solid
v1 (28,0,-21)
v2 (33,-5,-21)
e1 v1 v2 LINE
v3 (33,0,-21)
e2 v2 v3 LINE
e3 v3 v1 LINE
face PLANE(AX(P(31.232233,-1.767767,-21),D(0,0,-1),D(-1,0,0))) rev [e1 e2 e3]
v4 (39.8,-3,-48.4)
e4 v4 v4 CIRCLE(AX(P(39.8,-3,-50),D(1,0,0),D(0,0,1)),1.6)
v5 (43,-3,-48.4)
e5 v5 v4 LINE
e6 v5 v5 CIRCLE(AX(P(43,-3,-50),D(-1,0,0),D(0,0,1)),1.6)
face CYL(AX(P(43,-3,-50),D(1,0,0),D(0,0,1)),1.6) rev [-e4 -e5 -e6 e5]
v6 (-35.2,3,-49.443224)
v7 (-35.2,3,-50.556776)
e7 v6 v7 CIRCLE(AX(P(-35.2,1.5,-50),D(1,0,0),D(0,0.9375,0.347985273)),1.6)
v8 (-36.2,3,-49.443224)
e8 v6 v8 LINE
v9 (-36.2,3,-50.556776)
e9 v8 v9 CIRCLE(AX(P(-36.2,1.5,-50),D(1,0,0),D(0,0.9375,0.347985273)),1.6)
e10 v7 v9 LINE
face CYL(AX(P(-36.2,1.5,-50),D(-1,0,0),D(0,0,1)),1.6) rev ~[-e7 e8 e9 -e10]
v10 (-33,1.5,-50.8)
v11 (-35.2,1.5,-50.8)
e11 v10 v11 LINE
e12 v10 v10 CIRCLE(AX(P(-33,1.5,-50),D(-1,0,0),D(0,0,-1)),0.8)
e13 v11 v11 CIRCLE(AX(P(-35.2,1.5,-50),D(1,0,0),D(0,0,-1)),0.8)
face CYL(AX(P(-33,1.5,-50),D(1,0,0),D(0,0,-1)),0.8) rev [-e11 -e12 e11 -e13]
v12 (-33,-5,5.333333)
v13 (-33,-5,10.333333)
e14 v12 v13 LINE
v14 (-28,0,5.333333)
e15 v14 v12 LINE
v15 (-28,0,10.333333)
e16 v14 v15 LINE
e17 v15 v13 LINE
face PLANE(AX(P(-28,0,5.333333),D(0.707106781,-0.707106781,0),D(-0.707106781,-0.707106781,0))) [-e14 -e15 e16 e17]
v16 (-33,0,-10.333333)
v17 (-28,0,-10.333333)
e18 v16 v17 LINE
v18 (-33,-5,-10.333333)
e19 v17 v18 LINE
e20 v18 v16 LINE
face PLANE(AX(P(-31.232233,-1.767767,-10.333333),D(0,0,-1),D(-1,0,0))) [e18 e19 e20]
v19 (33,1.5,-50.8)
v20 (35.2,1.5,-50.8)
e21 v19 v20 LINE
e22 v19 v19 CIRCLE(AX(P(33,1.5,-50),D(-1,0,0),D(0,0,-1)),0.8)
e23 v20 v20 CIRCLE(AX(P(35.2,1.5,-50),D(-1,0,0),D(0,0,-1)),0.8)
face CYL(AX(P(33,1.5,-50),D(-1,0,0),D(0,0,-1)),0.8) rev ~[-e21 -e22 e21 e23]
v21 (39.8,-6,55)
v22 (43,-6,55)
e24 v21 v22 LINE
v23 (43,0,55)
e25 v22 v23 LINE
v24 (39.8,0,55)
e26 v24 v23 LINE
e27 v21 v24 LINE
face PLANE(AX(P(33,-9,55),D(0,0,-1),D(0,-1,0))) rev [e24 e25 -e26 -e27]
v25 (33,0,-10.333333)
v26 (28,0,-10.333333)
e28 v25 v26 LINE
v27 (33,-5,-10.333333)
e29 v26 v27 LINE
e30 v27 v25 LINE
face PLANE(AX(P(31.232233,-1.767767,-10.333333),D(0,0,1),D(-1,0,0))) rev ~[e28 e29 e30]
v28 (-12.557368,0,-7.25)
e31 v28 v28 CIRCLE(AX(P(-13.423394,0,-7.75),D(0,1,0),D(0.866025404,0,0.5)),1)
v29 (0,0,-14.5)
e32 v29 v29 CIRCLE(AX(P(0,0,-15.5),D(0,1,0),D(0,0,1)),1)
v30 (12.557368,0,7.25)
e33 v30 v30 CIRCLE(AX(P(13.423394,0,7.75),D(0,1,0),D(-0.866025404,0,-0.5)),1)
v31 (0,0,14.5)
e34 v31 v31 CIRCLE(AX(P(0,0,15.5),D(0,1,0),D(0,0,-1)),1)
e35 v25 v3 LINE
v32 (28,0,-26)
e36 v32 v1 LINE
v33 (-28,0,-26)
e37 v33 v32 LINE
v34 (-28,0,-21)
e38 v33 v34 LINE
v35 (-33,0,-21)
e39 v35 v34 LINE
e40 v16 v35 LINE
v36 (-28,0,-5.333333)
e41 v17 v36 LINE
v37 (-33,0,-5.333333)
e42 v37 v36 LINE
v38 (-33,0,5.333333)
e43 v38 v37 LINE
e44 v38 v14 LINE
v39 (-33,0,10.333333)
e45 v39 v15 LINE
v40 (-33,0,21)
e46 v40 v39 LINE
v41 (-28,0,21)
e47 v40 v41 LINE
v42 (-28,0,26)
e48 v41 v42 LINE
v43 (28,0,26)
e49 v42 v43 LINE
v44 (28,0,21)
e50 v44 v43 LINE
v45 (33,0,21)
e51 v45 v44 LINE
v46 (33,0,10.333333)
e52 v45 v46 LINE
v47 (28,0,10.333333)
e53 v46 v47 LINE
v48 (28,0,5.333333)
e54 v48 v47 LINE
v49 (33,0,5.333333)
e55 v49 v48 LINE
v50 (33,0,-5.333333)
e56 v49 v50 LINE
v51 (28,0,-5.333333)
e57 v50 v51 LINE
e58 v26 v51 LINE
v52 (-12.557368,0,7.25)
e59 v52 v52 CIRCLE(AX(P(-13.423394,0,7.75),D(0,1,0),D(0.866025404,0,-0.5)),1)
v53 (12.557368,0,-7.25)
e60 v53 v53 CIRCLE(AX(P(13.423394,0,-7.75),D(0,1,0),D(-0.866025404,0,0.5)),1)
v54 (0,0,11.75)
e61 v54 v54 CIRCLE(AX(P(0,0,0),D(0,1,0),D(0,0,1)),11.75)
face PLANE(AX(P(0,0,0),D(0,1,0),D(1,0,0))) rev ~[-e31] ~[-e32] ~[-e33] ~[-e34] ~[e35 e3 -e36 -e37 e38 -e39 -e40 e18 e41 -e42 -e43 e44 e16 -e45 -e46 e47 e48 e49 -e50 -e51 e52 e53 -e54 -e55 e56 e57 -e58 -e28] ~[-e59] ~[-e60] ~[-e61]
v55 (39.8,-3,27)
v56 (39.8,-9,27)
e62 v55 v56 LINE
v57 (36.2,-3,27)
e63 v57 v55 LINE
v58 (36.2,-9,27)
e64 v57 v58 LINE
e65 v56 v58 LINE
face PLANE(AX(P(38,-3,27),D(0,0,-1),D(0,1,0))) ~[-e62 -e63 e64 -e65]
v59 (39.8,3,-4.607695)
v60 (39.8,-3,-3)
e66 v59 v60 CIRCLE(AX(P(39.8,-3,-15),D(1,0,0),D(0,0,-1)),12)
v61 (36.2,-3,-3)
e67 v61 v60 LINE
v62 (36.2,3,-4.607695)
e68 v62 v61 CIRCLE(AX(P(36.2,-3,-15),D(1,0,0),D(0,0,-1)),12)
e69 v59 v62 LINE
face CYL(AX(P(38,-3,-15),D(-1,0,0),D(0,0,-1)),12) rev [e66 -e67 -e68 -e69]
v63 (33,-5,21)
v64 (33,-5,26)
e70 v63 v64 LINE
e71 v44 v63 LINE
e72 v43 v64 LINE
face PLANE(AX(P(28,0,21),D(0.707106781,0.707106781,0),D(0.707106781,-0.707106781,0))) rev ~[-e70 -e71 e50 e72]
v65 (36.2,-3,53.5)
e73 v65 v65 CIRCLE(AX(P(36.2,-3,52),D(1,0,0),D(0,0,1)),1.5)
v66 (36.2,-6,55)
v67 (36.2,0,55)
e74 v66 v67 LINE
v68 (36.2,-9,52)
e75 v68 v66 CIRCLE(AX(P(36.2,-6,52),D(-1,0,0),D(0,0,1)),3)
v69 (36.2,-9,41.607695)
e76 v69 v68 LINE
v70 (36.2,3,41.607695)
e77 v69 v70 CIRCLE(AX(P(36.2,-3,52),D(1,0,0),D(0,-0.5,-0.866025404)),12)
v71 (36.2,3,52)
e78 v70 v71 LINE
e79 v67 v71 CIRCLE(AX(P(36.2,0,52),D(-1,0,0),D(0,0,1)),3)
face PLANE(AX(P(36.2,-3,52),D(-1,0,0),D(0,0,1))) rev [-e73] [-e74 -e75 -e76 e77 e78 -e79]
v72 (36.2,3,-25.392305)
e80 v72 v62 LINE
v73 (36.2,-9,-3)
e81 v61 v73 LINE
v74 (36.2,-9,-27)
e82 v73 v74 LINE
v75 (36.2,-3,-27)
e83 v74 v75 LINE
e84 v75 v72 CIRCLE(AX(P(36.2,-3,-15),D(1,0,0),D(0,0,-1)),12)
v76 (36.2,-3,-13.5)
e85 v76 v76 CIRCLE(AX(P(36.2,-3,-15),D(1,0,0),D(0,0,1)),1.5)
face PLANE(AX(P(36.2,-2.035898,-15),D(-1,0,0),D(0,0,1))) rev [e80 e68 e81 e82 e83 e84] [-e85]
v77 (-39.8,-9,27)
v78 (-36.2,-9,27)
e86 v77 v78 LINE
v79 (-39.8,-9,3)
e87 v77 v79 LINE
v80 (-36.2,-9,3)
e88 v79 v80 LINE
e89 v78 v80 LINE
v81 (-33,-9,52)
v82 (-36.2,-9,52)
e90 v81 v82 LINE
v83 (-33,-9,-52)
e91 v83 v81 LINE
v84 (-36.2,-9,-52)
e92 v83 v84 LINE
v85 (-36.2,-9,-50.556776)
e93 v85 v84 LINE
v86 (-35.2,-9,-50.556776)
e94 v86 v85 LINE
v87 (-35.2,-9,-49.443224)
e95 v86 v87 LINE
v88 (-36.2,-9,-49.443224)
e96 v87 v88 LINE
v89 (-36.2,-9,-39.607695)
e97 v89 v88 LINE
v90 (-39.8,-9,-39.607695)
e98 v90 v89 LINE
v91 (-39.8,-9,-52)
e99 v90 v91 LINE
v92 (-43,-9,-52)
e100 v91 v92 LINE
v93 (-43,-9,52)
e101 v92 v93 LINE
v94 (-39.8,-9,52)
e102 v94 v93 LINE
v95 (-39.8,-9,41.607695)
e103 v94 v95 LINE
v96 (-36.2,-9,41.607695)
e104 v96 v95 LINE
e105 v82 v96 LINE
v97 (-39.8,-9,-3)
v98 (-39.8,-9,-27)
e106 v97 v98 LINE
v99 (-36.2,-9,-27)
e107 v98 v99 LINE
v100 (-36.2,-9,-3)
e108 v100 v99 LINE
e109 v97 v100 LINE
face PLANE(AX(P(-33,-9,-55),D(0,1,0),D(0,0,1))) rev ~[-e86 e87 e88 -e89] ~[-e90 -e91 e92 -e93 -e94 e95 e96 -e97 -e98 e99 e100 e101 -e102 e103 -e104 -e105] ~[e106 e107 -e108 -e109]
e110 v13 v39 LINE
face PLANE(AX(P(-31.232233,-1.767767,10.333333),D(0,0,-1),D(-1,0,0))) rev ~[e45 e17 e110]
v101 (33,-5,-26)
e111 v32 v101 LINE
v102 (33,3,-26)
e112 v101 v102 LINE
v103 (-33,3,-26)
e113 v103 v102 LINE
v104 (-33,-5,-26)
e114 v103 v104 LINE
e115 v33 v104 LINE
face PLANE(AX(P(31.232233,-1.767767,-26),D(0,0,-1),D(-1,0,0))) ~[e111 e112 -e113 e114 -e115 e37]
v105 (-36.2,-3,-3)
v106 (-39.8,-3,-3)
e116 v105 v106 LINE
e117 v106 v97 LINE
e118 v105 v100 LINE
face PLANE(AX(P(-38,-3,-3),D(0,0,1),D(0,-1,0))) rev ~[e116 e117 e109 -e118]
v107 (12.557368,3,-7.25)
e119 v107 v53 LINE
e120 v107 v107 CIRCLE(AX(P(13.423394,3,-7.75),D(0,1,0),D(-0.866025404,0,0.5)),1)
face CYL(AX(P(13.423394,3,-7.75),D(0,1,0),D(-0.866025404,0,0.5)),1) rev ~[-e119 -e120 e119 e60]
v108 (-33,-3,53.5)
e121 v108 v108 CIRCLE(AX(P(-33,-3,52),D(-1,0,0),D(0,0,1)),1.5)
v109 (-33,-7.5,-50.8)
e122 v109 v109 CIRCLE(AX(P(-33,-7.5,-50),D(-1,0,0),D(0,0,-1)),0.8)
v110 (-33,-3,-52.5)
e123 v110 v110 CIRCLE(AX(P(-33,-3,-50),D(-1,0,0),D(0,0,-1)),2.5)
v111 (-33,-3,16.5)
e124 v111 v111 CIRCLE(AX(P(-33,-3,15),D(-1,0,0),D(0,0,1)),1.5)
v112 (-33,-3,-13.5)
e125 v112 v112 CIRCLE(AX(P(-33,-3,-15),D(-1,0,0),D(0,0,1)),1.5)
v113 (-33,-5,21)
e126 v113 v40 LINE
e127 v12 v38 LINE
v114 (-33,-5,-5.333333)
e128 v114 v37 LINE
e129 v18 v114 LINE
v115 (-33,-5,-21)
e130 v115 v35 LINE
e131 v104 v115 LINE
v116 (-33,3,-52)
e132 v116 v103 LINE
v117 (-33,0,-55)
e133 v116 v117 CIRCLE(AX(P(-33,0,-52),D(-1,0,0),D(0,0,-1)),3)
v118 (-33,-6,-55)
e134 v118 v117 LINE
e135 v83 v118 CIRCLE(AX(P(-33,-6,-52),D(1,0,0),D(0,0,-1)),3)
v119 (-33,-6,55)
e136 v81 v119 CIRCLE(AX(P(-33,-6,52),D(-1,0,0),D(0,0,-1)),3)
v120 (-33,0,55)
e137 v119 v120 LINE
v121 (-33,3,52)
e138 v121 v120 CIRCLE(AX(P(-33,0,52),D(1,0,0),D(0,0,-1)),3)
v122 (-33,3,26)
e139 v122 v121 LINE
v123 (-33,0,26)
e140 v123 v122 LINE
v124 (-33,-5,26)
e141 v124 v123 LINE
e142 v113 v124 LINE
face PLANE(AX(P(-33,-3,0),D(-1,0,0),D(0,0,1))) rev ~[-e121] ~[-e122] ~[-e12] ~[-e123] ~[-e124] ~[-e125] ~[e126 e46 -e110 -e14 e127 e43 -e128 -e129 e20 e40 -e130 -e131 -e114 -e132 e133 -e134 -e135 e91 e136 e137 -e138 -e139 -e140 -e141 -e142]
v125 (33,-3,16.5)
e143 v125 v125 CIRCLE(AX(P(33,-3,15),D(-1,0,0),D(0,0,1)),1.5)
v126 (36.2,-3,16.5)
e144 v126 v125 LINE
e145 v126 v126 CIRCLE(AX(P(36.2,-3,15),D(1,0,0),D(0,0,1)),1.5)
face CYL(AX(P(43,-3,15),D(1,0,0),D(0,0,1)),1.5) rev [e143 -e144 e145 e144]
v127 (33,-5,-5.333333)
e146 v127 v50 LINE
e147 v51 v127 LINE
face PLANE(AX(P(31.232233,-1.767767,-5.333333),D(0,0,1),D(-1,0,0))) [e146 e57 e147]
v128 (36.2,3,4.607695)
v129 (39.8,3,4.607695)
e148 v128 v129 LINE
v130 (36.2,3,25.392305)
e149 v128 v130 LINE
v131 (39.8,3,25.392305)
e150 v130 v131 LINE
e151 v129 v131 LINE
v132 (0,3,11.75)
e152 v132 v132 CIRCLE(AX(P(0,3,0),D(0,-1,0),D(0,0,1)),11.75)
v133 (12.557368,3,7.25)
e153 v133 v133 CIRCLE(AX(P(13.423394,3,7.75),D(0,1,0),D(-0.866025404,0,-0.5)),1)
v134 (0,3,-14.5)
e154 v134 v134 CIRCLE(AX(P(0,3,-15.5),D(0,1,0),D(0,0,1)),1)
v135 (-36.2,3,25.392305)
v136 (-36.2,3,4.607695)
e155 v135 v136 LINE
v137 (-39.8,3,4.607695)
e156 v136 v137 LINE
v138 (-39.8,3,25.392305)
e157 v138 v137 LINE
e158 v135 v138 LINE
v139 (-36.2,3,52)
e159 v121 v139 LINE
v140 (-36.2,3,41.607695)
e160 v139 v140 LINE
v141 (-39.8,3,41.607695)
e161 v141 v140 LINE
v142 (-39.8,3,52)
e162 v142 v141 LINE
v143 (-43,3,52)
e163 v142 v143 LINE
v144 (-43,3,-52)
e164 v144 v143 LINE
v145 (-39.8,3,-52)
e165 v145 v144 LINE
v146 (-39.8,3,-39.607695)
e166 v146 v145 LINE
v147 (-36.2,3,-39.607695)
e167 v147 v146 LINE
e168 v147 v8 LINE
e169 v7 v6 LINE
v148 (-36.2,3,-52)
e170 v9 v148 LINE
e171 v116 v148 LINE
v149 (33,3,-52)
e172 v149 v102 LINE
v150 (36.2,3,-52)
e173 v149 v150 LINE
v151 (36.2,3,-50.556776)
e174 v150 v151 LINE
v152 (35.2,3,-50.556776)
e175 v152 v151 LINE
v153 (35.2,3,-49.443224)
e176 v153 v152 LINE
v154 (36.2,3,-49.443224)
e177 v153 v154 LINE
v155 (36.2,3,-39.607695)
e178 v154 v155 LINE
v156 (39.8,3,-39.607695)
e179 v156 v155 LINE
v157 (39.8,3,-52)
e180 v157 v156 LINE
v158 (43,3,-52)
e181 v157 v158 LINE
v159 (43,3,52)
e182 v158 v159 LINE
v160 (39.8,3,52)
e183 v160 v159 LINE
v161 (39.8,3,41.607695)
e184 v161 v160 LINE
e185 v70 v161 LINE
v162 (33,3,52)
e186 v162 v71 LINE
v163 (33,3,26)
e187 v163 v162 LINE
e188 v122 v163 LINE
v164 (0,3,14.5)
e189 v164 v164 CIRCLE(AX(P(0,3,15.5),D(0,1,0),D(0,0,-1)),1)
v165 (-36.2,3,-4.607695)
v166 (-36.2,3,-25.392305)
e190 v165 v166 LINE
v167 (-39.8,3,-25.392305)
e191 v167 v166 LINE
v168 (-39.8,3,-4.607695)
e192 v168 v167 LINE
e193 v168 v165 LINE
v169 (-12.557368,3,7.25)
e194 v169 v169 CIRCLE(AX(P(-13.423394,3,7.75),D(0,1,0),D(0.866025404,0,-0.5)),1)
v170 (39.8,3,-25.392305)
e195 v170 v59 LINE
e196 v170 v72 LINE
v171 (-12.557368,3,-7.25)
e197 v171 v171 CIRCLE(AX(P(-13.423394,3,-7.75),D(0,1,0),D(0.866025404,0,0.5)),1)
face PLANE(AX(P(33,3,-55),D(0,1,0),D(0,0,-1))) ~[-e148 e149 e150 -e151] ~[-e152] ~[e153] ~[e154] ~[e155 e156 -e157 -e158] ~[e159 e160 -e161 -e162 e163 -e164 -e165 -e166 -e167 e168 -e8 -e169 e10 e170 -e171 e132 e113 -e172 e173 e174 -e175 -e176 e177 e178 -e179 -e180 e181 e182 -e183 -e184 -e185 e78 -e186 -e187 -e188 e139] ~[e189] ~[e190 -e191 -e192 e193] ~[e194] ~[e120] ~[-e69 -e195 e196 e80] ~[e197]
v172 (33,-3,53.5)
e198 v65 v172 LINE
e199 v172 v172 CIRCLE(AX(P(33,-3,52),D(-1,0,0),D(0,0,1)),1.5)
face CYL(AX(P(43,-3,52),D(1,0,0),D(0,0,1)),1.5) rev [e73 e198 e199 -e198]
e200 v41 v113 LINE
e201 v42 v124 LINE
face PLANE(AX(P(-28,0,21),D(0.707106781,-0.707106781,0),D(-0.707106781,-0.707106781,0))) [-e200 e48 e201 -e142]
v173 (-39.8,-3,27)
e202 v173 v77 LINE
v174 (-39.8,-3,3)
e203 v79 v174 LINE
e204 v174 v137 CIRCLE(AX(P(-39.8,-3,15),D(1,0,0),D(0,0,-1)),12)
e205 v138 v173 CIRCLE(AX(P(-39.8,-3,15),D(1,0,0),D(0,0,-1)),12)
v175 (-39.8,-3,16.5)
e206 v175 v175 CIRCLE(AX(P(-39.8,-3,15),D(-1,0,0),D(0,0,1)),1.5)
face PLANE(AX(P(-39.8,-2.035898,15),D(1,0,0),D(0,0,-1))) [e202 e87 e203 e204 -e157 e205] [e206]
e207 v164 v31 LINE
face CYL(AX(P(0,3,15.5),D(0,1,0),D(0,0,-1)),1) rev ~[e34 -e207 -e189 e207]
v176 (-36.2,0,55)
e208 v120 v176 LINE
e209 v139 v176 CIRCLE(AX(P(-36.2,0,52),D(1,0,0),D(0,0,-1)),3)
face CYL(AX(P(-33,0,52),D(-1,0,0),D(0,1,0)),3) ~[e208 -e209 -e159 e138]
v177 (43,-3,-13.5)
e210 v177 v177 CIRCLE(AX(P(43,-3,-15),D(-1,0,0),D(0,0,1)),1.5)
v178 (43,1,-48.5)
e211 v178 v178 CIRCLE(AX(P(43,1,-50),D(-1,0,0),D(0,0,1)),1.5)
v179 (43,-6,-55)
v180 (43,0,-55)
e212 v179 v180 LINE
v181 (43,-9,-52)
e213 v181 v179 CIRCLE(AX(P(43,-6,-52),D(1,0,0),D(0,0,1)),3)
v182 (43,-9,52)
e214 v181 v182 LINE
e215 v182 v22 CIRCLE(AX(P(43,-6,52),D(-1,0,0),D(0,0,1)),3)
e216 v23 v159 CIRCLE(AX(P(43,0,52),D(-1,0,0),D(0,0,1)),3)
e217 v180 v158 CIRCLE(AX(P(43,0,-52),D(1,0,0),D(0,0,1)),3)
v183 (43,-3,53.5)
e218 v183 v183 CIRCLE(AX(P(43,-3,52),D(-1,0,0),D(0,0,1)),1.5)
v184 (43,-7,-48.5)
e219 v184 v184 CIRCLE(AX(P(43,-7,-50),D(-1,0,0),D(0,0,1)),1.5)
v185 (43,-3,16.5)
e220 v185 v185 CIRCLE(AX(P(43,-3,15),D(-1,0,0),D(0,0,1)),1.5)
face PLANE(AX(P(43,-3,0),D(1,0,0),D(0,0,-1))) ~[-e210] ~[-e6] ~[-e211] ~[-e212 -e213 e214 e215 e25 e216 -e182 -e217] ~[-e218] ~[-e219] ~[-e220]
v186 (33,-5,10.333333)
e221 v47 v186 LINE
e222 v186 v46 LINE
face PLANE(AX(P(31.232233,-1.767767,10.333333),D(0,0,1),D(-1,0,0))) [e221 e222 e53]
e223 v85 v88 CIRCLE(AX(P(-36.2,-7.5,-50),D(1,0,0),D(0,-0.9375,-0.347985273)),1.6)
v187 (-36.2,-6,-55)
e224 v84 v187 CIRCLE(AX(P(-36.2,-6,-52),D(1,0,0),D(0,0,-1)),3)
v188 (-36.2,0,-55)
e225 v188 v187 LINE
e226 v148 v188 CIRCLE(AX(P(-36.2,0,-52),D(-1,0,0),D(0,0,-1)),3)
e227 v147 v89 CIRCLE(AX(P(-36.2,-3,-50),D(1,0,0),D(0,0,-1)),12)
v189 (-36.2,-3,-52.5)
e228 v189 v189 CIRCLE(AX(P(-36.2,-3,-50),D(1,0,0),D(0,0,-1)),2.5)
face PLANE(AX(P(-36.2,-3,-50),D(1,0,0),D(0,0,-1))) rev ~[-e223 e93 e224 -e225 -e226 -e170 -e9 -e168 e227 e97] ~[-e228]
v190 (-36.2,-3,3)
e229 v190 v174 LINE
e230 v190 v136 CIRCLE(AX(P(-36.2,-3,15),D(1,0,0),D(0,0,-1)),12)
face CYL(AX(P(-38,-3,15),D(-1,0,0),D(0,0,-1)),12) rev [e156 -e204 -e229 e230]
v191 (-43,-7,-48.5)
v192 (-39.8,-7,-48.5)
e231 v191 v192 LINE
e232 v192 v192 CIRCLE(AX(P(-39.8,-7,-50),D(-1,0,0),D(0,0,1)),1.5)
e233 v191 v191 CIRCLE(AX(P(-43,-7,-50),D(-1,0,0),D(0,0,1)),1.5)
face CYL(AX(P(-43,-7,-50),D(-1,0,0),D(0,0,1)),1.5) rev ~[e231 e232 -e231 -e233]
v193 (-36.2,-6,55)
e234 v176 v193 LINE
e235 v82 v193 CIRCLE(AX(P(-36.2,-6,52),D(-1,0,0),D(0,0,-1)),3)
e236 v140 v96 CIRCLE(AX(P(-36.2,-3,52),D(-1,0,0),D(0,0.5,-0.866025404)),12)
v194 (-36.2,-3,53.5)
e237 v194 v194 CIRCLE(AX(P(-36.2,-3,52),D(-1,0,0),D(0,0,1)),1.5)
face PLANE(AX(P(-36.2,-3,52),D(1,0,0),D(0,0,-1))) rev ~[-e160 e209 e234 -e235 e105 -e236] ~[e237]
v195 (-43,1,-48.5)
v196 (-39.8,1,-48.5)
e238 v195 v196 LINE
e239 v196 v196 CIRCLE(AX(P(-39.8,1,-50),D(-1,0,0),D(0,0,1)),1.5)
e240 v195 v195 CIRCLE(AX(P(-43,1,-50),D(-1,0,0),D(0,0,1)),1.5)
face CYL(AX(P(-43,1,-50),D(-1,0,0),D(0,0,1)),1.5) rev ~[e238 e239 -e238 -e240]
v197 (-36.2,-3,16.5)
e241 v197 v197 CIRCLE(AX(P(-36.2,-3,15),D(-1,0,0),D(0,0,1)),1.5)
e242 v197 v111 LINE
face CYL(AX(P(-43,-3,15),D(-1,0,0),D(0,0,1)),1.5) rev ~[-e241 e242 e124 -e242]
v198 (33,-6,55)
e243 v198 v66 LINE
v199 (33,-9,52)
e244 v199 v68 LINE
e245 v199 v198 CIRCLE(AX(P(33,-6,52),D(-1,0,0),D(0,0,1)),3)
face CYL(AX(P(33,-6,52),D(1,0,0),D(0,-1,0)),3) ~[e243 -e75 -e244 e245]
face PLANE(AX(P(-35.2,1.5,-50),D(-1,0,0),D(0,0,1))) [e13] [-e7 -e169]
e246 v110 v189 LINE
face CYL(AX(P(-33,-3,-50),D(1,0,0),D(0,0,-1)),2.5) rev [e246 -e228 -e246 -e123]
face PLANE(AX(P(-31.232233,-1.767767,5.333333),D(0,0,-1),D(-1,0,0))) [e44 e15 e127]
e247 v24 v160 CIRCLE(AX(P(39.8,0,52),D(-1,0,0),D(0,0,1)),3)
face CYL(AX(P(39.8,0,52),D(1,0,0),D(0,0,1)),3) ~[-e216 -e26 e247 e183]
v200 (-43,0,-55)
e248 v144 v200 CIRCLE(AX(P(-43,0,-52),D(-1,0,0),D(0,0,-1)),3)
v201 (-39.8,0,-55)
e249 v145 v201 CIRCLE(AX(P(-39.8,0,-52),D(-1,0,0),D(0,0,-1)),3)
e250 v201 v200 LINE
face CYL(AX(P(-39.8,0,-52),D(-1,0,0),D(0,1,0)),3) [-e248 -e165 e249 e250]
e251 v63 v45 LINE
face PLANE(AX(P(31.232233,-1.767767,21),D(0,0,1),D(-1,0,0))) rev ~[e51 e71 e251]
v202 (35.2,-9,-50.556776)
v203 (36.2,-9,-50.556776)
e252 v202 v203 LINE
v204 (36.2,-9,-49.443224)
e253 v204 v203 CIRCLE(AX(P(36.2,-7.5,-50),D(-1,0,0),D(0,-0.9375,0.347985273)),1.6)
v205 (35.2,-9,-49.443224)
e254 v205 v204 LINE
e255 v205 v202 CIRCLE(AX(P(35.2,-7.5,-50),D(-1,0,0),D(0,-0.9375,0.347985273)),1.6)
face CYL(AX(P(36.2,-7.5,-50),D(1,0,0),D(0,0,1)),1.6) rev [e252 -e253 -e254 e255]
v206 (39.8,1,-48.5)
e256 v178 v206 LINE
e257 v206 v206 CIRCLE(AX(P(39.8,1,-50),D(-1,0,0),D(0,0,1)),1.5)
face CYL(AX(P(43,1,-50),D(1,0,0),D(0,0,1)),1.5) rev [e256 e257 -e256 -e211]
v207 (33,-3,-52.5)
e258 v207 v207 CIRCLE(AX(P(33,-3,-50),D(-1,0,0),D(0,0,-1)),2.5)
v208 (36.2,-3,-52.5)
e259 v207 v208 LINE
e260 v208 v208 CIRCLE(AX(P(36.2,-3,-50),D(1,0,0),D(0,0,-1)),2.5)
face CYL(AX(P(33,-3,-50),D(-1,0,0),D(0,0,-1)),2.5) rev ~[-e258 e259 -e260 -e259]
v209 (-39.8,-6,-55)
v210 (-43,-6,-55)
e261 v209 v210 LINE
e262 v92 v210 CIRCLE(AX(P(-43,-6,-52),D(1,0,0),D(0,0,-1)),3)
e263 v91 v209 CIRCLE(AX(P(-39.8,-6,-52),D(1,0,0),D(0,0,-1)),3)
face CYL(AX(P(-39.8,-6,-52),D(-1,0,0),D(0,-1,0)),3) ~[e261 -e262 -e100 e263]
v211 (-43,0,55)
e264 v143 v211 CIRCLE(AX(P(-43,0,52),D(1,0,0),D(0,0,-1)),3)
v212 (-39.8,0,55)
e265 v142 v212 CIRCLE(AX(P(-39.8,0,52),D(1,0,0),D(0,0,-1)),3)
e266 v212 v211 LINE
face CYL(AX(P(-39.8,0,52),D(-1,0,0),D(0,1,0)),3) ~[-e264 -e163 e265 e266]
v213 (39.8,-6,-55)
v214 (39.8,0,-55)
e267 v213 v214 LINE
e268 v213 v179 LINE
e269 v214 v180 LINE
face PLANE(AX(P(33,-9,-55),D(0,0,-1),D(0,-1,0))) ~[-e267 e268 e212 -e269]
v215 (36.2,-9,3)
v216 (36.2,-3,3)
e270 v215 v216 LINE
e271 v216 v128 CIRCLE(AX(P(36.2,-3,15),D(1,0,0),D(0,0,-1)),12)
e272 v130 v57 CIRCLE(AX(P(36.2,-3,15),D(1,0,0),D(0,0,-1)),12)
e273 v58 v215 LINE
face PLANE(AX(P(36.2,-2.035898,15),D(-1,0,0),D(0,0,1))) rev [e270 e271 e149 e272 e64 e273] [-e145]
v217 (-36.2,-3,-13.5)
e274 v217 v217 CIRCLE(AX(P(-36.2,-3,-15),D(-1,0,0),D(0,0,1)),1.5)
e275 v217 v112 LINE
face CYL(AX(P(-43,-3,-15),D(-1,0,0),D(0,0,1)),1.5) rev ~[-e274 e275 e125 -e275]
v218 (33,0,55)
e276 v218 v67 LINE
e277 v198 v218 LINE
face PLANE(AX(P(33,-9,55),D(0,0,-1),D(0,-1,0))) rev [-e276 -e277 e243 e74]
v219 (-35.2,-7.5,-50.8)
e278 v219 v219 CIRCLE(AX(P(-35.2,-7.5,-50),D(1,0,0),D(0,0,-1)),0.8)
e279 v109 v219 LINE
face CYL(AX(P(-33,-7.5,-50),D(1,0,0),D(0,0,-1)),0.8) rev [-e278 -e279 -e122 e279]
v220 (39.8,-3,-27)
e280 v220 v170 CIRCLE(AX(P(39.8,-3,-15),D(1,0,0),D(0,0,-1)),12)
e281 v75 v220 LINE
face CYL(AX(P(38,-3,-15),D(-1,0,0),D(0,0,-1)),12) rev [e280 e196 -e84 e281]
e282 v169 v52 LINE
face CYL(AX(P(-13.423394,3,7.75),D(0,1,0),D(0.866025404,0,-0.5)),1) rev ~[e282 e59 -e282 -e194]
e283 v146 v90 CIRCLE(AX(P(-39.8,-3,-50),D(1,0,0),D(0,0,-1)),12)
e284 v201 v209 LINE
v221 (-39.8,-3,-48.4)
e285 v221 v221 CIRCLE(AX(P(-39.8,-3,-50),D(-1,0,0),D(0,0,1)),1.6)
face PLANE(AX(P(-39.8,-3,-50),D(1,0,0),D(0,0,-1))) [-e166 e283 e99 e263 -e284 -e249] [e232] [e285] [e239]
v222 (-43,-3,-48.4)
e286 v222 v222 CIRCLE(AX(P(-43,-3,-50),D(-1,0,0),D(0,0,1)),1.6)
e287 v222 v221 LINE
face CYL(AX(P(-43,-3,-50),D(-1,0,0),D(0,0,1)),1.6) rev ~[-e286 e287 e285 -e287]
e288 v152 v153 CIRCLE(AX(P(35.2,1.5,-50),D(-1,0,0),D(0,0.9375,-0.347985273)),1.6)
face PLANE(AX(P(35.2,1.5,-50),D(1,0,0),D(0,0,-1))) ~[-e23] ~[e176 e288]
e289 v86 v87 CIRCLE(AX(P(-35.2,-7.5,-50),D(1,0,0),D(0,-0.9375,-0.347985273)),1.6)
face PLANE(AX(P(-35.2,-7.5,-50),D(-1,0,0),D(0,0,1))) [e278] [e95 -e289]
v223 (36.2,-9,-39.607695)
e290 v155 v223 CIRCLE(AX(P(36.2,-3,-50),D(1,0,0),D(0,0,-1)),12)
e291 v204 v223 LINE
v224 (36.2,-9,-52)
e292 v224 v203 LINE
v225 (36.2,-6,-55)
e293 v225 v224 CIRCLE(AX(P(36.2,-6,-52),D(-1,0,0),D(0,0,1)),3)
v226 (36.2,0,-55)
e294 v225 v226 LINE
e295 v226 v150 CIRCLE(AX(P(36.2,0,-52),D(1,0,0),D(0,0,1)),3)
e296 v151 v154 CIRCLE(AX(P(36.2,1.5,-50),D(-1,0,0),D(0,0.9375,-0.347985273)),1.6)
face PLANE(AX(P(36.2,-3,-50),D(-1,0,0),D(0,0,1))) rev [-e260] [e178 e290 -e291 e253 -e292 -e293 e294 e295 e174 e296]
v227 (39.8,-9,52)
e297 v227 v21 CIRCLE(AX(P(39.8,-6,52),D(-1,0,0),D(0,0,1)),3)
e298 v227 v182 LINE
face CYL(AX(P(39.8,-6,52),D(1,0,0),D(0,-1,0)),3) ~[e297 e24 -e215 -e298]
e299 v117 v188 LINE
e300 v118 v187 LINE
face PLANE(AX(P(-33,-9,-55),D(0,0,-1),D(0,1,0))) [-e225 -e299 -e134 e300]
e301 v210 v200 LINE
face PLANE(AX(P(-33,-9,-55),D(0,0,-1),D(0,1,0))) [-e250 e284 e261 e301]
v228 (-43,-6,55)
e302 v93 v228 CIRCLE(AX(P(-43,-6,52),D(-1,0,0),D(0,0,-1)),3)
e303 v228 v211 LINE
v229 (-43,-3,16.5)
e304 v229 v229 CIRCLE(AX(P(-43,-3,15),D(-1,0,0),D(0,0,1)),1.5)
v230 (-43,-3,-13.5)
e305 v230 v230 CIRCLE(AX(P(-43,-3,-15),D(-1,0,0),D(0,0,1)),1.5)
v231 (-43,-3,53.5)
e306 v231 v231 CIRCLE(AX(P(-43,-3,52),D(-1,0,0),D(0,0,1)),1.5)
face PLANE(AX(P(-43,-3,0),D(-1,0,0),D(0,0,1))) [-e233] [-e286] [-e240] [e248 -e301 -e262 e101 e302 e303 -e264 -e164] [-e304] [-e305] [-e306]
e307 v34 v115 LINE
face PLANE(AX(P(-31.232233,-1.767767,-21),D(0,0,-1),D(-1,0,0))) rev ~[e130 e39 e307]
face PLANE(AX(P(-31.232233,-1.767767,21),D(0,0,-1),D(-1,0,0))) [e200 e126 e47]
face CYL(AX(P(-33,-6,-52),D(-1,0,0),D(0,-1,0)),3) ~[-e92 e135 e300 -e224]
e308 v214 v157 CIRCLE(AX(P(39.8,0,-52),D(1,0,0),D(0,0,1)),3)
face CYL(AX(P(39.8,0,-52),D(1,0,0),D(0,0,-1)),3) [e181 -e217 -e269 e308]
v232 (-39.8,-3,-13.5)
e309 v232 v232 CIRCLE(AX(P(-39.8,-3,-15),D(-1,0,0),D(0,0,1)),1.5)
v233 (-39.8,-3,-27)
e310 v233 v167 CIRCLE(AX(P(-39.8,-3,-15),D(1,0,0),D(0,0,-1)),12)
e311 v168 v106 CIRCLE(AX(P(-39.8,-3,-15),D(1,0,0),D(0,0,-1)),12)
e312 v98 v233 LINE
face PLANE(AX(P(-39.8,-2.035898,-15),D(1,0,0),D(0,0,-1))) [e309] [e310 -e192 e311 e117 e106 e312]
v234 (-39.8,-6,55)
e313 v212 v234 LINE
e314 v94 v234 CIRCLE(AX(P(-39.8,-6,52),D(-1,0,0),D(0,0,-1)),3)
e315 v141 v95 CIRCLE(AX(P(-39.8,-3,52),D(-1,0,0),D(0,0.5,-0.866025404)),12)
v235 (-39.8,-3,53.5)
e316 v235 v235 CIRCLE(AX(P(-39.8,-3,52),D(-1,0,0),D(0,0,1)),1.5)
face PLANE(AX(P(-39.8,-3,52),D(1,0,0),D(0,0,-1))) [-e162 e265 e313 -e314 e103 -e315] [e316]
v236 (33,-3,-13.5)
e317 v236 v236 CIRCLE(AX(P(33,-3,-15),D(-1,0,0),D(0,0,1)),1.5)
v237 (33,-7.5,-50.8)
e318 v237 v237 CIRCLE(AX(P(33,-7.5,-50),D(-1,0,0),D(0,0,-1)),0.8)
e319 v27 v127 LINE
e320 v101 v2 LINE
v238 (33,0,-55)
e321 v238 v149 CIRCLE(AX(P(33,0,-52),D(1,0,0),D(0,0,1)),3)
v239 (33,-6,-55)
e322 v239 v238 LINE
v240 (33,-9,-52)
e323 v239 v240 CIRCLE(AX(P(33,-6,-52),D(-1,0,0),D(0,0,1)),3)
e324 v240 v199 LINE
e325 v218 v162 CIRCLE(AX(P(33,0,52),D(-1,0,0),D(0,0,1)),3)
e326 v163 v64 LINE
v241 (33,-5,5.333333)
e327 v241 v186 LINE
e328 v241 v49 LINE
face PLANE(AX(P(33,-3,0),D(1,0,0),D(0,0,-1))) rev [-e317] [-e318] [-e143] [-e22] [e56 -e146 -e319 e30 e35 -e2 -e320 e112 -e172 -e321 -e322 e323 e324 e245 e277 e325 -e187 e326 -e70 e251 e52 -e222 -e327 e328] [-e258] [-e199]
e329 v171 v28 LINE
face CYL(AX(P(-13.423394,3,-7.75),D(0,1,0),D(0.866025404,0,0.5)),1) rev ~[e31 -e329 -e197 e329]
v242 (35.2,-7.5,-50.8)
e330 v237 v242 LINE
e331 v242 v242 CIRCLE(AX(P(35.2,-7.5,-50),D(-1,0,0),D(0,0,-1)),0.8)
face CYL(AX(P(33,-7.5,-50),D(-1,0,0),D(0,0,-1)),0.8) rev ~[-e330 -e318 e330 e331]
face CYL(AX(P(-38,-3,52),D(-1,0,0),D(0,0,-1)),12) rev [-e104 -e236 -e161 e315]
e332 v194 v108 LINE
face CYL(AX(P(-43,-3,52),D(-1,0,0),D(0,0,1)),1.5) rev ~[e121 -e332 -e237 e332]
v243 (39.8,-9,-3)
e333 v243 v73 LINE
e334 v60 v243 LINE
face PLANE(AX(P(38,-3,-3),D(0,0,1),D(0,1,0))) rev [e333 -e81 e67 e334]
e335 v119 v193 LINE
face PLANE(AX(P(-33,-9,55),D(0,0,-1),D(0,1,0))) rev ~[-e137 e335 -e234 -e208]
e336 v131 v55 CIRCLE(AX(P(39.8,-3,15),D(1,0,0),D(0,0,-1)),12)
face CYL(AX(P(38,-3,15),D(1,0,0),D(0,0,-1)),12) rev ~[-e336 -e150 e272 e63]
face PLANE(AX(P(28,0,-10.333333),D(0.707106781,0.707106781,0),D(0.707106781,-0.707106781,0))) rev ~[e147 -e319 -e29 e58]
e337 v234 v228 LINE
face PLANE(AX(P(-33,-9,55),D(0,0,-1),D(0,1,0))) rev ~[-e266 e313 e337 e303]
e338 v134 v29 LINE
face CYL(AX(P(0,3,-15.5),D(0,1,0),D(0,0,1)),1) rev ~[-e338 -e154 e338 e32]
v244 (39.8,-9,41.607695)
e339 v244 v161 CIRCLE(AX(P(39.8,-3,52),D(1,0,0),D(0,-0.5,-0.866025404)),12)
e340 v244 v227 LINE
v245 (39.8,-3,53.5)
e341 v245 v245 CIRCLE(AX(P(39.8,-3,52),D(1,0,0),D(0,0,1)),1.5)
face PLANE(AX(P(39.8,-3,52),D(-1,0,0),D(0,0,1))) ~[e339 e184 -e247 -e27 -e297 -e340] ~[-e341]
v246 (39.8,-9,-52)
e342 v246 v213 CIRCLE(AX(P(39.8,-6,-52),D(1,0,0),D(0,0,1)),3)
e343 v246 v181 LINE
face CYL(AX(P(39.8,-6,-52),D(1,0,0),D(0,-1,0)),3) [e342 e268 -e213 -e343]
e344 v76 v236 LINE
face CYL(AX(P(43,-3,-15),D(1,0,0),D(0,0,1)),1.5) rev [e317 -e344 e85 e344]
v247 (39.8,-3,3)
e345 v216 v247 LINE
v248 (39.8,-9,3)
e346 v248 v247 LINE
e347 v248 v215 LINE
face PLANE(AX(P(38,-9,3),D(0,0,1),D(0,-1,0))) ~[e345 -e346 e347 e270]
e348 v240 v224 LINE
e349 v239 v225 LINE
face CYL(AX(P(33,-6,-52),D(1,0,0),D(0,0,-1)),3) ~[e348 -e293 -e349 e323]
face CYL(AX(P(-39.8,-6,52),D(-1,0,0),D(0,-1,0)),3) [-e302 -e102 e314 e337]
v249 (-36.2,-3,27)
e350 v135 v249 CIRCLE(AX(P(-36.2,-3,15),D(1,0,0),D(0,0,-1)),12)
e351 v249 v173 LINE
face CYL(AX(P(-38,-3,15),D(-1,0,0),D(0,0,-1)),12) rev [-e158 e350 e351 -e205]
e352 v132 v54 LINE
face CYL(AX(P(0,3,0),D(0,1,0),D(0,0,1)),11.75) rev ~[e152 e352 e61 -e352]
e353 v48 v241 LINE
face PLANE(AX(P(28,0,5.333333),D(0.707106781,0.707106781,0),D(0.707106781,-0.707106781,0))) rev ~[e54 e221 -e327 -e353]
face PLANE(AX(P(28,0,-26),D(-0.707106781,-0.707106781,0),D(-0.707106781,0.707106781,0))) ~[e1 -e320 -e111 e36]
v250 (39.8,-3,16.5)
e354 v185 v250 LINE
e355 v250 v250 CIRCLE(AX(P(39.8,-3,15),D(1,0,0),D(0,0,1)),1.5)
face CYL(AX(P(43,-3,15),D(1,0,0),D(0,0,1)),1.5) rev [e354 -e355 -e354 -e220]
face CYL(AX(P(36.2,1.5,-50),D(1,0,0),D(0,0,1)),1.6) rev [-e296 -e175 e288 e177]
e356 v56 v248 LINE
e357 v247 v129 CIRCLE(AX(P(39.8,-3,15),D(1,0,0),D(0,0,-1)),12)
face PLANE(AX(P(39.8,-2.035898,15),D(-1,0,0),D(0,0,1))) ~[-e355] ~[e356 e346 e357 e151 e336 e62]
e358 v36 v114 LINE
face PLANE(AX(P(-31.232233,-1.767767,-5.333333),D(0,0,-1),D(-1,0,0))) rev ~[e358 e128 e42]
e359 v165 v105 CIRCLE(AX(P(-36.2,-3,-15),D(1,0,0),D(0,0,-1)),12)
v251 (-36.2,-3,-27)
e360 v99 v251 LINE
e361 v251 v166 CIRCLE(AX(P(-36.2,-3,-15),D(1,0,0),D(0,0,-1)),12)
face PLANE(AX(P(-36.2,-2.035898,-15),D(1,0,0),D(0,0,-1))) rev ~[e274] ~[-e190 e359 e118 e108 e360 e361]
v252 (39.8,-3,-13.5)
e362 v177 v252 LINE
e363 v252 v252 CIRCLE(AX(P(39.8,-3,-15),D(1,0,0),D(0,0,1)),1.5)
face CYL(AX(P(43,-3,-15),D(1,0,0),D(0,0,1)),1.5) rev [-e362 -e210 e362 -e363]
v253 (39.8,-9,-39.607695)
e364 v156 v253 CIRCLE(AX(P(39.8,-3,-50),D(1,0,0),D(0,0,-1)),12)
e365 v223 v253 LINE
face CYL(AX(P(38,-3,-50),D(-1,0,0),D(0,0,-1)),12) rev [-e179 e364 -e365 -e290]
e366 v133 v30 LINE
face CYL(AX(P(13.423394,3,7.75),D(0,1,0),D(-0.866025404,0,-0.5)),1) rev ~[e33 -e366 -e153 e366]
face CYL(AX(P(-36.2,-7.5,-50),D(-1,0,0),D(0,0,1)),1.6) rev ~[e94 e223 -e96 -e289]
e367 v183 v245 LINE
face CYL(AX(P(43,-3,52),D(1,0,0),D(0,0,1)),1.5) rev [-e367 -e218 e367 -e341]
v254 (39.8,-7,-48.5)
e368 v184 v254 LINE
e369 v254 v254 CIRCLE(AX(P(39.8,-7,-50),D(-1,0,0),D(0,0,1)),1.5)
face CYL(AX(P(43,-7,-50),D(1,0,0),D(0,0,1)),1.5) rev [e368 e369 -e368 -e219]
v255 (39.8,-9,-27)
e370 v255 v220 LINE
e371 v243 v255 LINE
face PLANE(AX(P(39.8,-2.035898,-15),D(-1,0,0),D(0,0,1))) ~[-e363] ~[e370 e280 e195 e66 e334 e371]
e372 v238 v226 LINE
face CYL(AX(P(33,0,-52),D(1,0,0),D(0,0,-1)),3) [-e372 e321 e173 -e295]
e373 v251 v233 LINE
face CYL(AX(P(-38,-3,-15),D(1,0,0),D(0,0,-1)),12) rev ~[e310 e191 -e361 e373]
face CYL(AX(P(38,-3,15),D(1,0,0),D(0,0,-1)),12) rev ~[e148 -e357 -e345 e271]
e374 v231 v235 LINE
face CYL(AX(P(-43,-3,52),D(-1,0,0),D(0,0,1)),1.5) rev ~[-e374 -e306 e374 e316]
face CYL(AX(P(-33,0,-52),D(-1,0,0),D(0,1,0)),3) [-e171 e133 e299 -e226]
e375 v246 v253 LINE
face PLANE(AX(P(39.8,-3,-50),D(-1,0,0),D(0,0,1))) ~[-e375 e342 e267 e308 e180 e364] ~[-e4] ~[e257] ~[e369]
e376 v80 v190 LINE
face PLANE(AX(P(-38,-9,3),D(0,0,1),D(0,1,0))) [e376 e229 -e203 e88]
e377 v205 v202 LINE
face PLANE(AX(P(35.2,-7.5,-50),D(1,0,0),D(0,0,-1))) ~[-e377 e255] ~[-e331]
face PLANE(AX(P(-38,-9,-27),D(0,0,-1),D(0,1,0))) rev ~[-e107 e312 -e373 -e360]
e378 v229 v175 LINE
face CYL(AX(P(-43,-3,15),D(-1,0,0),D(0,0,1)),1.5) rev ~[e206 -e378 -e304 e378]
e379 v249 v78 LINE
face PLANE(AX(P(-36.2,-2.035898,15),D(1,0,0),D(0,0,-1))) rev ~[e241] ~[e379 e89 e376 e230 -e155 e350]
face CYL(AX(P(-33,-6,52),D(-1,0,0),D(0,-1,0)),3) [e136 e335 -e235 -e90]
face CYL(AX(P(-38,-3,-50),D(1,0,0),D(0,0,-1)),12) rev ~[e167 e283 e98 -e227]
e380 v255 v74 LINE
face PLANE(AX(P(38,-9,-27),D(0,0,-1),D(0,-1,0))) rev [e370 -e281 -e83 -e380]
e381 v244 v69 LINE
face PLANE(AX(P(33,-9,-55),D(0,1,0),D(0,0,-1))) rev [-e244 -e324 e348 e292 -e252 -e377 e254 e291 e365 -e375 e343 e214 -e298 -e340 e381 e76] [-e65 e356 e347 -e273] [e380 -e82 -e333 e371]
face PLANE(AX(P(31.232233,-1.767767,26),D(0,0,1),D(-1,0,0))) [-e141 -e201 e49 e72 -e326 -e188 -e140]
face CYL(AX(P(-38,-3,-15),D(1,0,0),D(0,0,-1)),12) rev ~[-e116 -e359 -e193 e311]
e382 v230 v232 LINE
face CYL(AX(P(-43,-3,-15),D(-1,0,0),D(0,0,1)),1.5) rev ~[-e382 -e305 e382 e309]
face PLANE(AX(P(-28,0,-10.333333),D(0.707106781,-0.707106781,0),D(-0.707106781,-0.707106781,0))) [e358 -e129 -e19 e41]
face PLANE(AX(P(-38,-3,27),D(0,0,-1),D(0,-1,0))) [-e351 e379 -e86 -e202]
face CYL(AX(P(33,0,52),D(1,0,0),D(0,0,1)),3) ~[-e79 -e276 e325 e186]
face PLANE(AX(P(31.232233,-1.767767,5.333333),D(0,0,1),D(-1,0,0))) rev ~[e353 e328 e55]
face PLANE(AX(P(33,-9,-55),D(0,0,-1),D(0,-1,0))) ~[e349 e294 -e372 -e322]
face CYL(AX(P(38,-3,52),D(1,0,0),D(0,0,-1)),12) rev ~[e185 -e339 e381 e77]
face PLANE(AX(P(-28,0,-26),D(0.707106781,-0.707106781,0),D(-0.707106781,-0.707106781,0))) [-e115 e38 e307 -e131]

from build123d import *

# Parameters (mm, degrees)
SKETCH_1_W               = 66
SKETCH_1_H               = 52
EXTRUDE_1_DEPTH          = 3
SKETCH_2_W               = 110
SKETCH_2_H               = 12
EXTRUDE_2_DEPTH          = 10
CUT_EXTRUDE_1_REACH      = 96.244
SKETCH_4_R               = 1.6
SKETCH_4_R_2             = 1.5
SKETCH_8_R               = 12
CUT_EXTRUDE_4_DEPTH      = 1.8
CUT_EXTRUDE_2_REACH      = 88.383
SKETCH_5_R               = 0.8
SKETCH_5_R_2             = 2.5
CUT_EXTRUDE_5_REACH      = 96.244
SKETCH_10_R              = 1.5
SKETCH_11_R              = 1.6
CUT_EXTRUDE_6_DEPTH      = 1
FILLET_1_R               = 3
CUT_EXTRUDE_3_REACH      = 72.838
SKETCH_6_R               = 1
SKETCH_6_R_2             = 11.75
PATTERN_CIRCULAR_1_COUNT = 6
EXTRUDE_3_DEPTH          = 5
PATTERN_LINEAR_1_COUNT   = 4
PATTERN_LINEAR_1_PITCH   = 15.666666667
MIRROR_2_COPY_1_DEPTH    = 5
MIRROR_2_COPY_2_DEPTH    = 5
MIRROR_2_COPY_3_DEPTH    = 5


with BuildPart() as part:
    # 草图1 → 凸台-拉伸1 (new body)
    with BuildSketch(Plane(origin=(0, 0, 0), x_dir=(1, 0, 0), z_dir=(0, 1, 0))):
        Rectangle(SKETCH_1_W, SKETCH_1_H)
    extrude(amount=EXTRUDE_1_DEPTH)

    # 草图2 → 凸台-拉伸2 (add)
    with BuildSketch(Plane.ZY.offset(33)):
        with Locations((0, -3)):
            Rectangle(SKETCH_2_W, SKETCH_2_H)
    extrude_2 = extrude(amount=EXTRUDE_2_DEPTH)

    # 草图4 → 切除-拉伸1 (cut, up to next)
    with BuildSketch(Plane.ZY.offset(43), mode=Mode.PRIVATE) as cut_extrude_1_sk1:
        with Locations((-50, -3)):
            Circle(SKETCH_4_R)
    cut_extrude_1_tool1 = extrude(cut_extrude_1_sk1.sketch, amount=-CUT_EXTRUDE_1_REACH, mode=Mode.PRIVATE) & part.part
    # 草图4 → 切除-拉伸1 (cut, up to next)
    with BuildSketch(Plane.ZY.offset(43), mode=Mode.PRIVATE) as cut_extrude_1_sk2:
        with Locations((52, -3)):
            Circle(SKETCH_4_R_2)
    cut_extrude_1_tool2 = extrude(cut_extrude_1_sk2.sketch, amount=-CUT_EXTRUDE_1_REACH, mode=Mode.PRIVATE) & part.part
    # 草图4 → 切除-拉伸1 (cut, up to next)
    with BuildSketch(Plane.ZY.offset(43), mode=Mode.PRIVATE) as cut_extrude_1_sk3:
        with Locations((-15, -3)):
            Circle(SKETCH_4_R_2)
    cut_extrude_1_tool3 = extrude(cut_extrude_1_sk3.sketch, amount=-CUT_EXTRUDE_1_REACH, mode=Mode.PRIVATE) & part.part
    # 草图4 → 切除-拉伸1 (cut, up to next)
    with BuildSketch(Plane.ZY.offset(43), mode=Mode.PRIVATE) as cut_extrude_1_sk4:
        with Locations((15, -3)):
            Circle(SKETCH_4_R_2)
    cut_extrude_1_tool4 = extrude(cut_extrude_1_sk4.sketch, amount=-CUT_EXTRUDE_1_REACH, mode=Mode.PRIVATE) & part.part
    cut_extrude_1_1 = cut_extrude_1_tool1.solids().sort_by_distance((-43, -3, -50))[0]
    add(cut_extrude_1_1, mode=Mode.SUBTRACT)
    cut_extrude_1_2 = cut_extrude_1_tool2.solids().sort_by_distance((-43, -3, 52))[0]
    add(cut_extrude_1_2, mode=Mode.SUBTRACT)
    cut_extrude_1_3 = cut_extrude_1_tool3.solids().sort_by_distance((-43, -3, -15))[0]
    add(cut_extrude_1_3, mode=Mode.SUBTRACT)
    cut_extrude_1_4 = cut_extrude_1_tool4.solids().sort_by_distance((-43, -3, 15))[0]
    add(cut_extrude_1_4, mode=Mode.SUBTRACT)
    cut_extrude_1 = cut_extrude_1_1 + cut_extrude_1_2 + cut_extrude_1_3 + cut_extrude_1_4  # 切除-拉伸1 as one shape, for the pattern or mirror that repeats it

    # 草图8 → 切除-拉伸4 (cut, symmetric)
    with BuildSketch(Plane(origin=(-38, 0, 0), x_dir=(0, 0, -1), z_dir=(1, 0, 0))):
        with Locations((-52, -3)):
            Circle(SKETCH_8_R)
        with Locations((50, -3)):
            Circle(SKETCH_8_R)
        with BuildLine():
            Line((-27, -3), (-27, -9))
            Line((-27, -9), (-3, -9))
            Line((-3, -9), (-3, -3))
            ThreePointArc((-3, -3), (-15, 9), (-27, -3))
        make_face()
        with BuildLine():
            Line((3, -3), (3, -9))
            Line((3, -9), (27, -9))
            Line((27, -9), (27, -3))
            ThreePointArc((27, -3), (15, 9), (3, -3))
        make_face()
    cut_extrude_4 = extrude(amount=CUT_EXTRUDE_4_DEPTH, both=True, mode=Mode.SUBTRACT)

    # 草图5 → 切除-拉伸2 (cut, up to next)
    with BuildSketch(Plane.ZY.offset(33), mode=Mode.PRIVATE) as cut_extrude_2_sk1:
        with Locations(Location((-50, 1.5, 0), (0, 0, 180))):
            Circle(SKETCH_5_R)
    cut_extrude_2_tool1 = extrude(cut_extrude_2_sk1.sketch, amount=CUT_EXTRUDE_2_REACH, mode=Mode.PRIVATE) & part.part
    # 草图5 → 切除-拉伸2 (cut, up to next)
    with BuildSketch(Plane.ZY.offset(33), mode=Mode.PRIVATE) as cut_extrude_2_sk2:
        with Locations(Location((-50, -7.5, 0), (0, 0, 180))):
            Circle(SKETCH_5_R)
    cut_extrude_2_tool2 = extrude(cut_extrude_2_sk2.sketch, amount=CUT_EXTRUDE_2_REACH, mode=Mode.PRIVATE) & part.part
    # 草图5 → 切除-拉伸2 (cut, up to next)
    with BuildSketch(Plane.ZY.offset(33), mode=Mode.PRIVATE) as cut_extrude_2_sk3:
        with Locations(Location((-50, -3, 0), (0, 0, 180))):
            Circle(SKETCH_5_R_2)
    cut_extrude_2_tool3 = extrude(cut_extrude_2_sk3.sketch, amount=CUT_EXTRUDE_2_REACH, mode=Mode.PRIVATE) & part.part
    cut_extrude_2_1 = cut_extrude_2_tool1.solids().sort_by_distance((-33, 1.5, -50))[0]
    add(cut_extrude_2_1, mode=Mode.SUBTRACT)
    cut_extrude_2_2 = cut_extrude_2_tool2.solids().sort_by_distance((-33, -7.5, -50))[0]
    add(cut_extrude_2_2, mode=Mode.SUBTRACT)
    cut_extrude_2_3 = cut_extrude_2_tool3.solids().sort_by_distance((-33, -3, -50))[0]
    add(cut_extrude_2_3, mode=Mode.SUBTRACT)
    cut_extrude_2 = cut_extrude_2_1 + cut_extrude_2_2 + cut_extrude_2_3  # 切除-拉伸2 as one shape, for the pattern or mirror that repeats it

    # 草图10 → 切除-拉伸5 (cut, up to next)
    with BuildSketch(Plane.ZY.offset(43), mode=Mode.PRIVATE) as cut_extrude_5_sk1:
        with Locations((-50, -7)):
            Circle(SKETCH_10_R)
    cut_extrude_5_tool1 = extrude(cut_extrude_5_sk1.sketch, amount=-CUT_EXTRUDE_5_REACH, mode=Mode.PRIVATE) & part.part
    # 草图10 → 切除-拉伸5 (cut, up to next)
    with BuildSketch(Plane.ZY.offset(43), mode=Mode.PRIVATE) as cut_extrude_5_sk2:
        with Locations((-50, 1)):
            Circle(SKETCH_10_R)
    cut_extrude_5_tool2 = extrude(cut_extrude_5_sk2.sketch, amount=-CUT_EXTRUDE_5_REACH, mode=Mode.PRIVATE) & part.part
    cut_extrude_5_1 = cut_extrude_5_tool1.solids().sort_by_distance((-43, -7, -50))[0]
    add(cut_extrude_5_1, mode=Mode.SUBTRACT)
    cut_extrude_5_2 = cut_extrude_5_tool2.solids().sort_by_distance((-43, 1, -50))[0]
    add(cut_extrude_5_2, mode=Mode.SUBTRACT)
    cut_extrude_5 = cut_extrude_5_1 + cut_extrude_5_2  # 切除-拉伸5 as one shape, for the pattern or mirror that repeats it

    # 草图11 → 切除-拉伸6 (cut)
    with BuildSketch(Plane.ZY.offset(36.2)):
        with Locations((-50, 1.5)):
            Circle(SKETCH_11_R)
        with Locations((-50, -7.5)):
            Circle(SKETCH_11_R)
    cut_extrude_6 = extrude(amount=-CUT_EXTRUDE_6_DEPTH, mode=Mode.SUBTRACT)

    # 镜向1: 凸台-拉伸2, 切除-拉伸1, 切除-拉伸4, 切除-拉伸2, 切除-拉伸5, 切除-拉伸6 across plane
    add(extrude_2.mirror(Plane(origin=(0, 0, 0), x_dir=(0, 0, 1), z_dir=(1, 0, 0))))
    add(cut_extrude_1.mirror(Plane(origin=(0, 0, 0), x_dir=(0, 0, 1), z_dir=(1, 0, 0))), mode=Mode.SUBTRACT)
    add(cut_extrude_4.mirror(Plane(origin=(0, 0, 0), x_dir=(0, 0, 1), z_dir=(1, 0, 0))), mode=Mode.SUBTRACT)
    add(cut_extrude_2.mirror(Plane(origin=(0, 0, 0), x_dir=(0, 0, 1), z_dir=(1, 0, 0))), mode=Mode.SUBTRACT)
    add(cut_extrude_5.mirror(Plane(origin=(0, 0, 0), x_dir=(0, 0, 1), z_dir=(1, 0, 0))), mode=Mode.SUBTRACT)
    add(cut_extrude_6.mirror(Plane(origin=(0, 0, 0), x_dir=(0, 0, 1), z_dir=(1, 0, 0))), mode=Mode.SUBTRACT)

    # 圆角1
    fillet_1_edges = [part.edges().sort_by_distance(p)[0] for p in [
        (-41.4, 3, -55),
        (-41.4, -9, -55),
        (-41.4, -9, 55),
        (-41.4, 3, 55),
        (41.4, -9, -55),
        (41.4, 3, -55),
        (41.4, 3, 55),
        (41.4, -9, 55),
        (34.6, -9, 55),
        (34.6, 3, 55),
        (34.6, -9, -55),
        (34.6, 3, -55),
        (-34.6, 3, 55),
        (-34.6, -9, 55),
        (-34.6, -9, -55),
        (-34.6, 3, -55),
    ]]
    fillet(fillet_1_edges, radius=FILLET_1_R)

    # 草图6 → 切除-拉伸3 (cut, up to next)
    with BuildSketch(Plane(origin=(0, 3, 0), x_dir=(1, 0, 0), z_dir=(0, 1, 0)), mode=Mode.PRIVATE) as cut_extrude_3_sk1:
        with Locations(Location((0, 15.5, 0), (0, 0, 270))):
            Circle(SKETCH_6_R)
    cut_extrude_3_tool1 = extrude(cut_extrude_3_sk1.sketch, amount=-CUT_EXTRUDE_3_REACH, mode=Mode.PRIVATE) & part.part
    # 草图6 → 切除-拉伸3 (cut, up to next)
    with BuildSketch(Plane(origin=(0, 3, 0), x_dir=(1, 0, 0), z_dir=(0, 1, 0)), mode=Mode.PRIVATE) as cut_extrude_3_sk2:
        with Locations(Location((0, 0, 0), (0, 0, 270))):
            Circle(SKETCH_6_R_2)
    cut_extrude_3_tool2 = extrude(cut_extrude_3_sk2.sketch, amount=-CUT_EXTRUDE_3_REACH, mode=Mode.PRIVATE) & part.part
    cut_extrude_3_1 = cut_extrude_3_tool1.solids().sort_by_distance((0, 3, -15.5))[0]
    add(cut_extrude_3_1, mode=Mode.SUBTRACT)
    cut_extrude_3_2 = cut_extrude_3_tool2.solids().sort_by_distance((0, 3, 0))[0]
    add(cut_extrude_3_2, mode=Mode.SUBTRACT)
    cut_extrude_3 = cut_extrude_3_1 + cut_extrude_3_2  # 切除-拉伸3 as one shape, for the pattern or mirror that repeats it

    # 阵列(圆周)1: 切除-拉伸3 ×6 about axis
    pattern_circular_1_axis = Axis((0, 0, 0), (0, 1, 0))
    for i in range(1, PATTERN_CIRCULAR_1_COUNT):
        add(cut_extrude_3.rotate(pattern_circular_1_axis, i * 360 / PATTERN_CIRCULAR_1_COUNT), mode=Mode.SUBTRACT)

    # 草图9 → 凸台-拉伸3 (add)
    with BuildSketch(Plane(origin=(0, 0, -26), x_dir=(-1, 0, 0), z_dir=(0, 0, -1))):
        Polygon((33, 0), (28, 0), (33, -5), align=None)
    extrude_3 = extrude(amount=-EXTRUDE_3_DEPTH)

    # 阵列(线性)1: 凸台-拉伸3 ×4
    with Locations(*[(0, 0, i * PATTERN_LINEAR_1_PITCH) for i in range(1, PATTERN_LINEAR_1_COUNT)]):
        add(extrude_3)

    # 镜向2: 凸台-拉伸3 across plane
    add(extrude_3.mirror(Plane(origin=(0, 0, 0), x_dir=(0, 0, 1), z_dir=(1, 0, 0))))

    # 镜向2 copy 1 sketch → 镜向2 copy 1 (add)
    with BuildSketch(Plane(origin=(0, 0, -10.333333333), x_dir=(1, 0, 0), z_dir=(0, 0, -1))):
        Polygon((33, 0), (28, 0), (33, 5), align=None)
    extrude(amount=-MIRROR_2_COPY_1_DEPTH)

    # 镜向2 copy 2 sketch → 镜向2 copy 2 (add)
    with BuildSketch(Plane(origin=(0, 0, 5.333333333), x_dir=(1, 0, 0), z_dir=(0, 0, -1))):
        Polygon((33, 0), (28, 0), (33, 5), align=None)
    extrude(amount=-MIRROR_2_COPY_2_DEPTH)

    # 镜向2 copy 3 sketch → 镜向2 copy 3 (add)
    with BuildSketch(Plane(origin=(0, 0, 21), x_dir=(1, 0, 0), z_dir=(0, 0, -1))):
        Polygon((33, 0), (28, 0), (33, 5), align=None)
    extrude(amount=-MIRROR_2_COPY_3_DEPTH)


solid = part.part
